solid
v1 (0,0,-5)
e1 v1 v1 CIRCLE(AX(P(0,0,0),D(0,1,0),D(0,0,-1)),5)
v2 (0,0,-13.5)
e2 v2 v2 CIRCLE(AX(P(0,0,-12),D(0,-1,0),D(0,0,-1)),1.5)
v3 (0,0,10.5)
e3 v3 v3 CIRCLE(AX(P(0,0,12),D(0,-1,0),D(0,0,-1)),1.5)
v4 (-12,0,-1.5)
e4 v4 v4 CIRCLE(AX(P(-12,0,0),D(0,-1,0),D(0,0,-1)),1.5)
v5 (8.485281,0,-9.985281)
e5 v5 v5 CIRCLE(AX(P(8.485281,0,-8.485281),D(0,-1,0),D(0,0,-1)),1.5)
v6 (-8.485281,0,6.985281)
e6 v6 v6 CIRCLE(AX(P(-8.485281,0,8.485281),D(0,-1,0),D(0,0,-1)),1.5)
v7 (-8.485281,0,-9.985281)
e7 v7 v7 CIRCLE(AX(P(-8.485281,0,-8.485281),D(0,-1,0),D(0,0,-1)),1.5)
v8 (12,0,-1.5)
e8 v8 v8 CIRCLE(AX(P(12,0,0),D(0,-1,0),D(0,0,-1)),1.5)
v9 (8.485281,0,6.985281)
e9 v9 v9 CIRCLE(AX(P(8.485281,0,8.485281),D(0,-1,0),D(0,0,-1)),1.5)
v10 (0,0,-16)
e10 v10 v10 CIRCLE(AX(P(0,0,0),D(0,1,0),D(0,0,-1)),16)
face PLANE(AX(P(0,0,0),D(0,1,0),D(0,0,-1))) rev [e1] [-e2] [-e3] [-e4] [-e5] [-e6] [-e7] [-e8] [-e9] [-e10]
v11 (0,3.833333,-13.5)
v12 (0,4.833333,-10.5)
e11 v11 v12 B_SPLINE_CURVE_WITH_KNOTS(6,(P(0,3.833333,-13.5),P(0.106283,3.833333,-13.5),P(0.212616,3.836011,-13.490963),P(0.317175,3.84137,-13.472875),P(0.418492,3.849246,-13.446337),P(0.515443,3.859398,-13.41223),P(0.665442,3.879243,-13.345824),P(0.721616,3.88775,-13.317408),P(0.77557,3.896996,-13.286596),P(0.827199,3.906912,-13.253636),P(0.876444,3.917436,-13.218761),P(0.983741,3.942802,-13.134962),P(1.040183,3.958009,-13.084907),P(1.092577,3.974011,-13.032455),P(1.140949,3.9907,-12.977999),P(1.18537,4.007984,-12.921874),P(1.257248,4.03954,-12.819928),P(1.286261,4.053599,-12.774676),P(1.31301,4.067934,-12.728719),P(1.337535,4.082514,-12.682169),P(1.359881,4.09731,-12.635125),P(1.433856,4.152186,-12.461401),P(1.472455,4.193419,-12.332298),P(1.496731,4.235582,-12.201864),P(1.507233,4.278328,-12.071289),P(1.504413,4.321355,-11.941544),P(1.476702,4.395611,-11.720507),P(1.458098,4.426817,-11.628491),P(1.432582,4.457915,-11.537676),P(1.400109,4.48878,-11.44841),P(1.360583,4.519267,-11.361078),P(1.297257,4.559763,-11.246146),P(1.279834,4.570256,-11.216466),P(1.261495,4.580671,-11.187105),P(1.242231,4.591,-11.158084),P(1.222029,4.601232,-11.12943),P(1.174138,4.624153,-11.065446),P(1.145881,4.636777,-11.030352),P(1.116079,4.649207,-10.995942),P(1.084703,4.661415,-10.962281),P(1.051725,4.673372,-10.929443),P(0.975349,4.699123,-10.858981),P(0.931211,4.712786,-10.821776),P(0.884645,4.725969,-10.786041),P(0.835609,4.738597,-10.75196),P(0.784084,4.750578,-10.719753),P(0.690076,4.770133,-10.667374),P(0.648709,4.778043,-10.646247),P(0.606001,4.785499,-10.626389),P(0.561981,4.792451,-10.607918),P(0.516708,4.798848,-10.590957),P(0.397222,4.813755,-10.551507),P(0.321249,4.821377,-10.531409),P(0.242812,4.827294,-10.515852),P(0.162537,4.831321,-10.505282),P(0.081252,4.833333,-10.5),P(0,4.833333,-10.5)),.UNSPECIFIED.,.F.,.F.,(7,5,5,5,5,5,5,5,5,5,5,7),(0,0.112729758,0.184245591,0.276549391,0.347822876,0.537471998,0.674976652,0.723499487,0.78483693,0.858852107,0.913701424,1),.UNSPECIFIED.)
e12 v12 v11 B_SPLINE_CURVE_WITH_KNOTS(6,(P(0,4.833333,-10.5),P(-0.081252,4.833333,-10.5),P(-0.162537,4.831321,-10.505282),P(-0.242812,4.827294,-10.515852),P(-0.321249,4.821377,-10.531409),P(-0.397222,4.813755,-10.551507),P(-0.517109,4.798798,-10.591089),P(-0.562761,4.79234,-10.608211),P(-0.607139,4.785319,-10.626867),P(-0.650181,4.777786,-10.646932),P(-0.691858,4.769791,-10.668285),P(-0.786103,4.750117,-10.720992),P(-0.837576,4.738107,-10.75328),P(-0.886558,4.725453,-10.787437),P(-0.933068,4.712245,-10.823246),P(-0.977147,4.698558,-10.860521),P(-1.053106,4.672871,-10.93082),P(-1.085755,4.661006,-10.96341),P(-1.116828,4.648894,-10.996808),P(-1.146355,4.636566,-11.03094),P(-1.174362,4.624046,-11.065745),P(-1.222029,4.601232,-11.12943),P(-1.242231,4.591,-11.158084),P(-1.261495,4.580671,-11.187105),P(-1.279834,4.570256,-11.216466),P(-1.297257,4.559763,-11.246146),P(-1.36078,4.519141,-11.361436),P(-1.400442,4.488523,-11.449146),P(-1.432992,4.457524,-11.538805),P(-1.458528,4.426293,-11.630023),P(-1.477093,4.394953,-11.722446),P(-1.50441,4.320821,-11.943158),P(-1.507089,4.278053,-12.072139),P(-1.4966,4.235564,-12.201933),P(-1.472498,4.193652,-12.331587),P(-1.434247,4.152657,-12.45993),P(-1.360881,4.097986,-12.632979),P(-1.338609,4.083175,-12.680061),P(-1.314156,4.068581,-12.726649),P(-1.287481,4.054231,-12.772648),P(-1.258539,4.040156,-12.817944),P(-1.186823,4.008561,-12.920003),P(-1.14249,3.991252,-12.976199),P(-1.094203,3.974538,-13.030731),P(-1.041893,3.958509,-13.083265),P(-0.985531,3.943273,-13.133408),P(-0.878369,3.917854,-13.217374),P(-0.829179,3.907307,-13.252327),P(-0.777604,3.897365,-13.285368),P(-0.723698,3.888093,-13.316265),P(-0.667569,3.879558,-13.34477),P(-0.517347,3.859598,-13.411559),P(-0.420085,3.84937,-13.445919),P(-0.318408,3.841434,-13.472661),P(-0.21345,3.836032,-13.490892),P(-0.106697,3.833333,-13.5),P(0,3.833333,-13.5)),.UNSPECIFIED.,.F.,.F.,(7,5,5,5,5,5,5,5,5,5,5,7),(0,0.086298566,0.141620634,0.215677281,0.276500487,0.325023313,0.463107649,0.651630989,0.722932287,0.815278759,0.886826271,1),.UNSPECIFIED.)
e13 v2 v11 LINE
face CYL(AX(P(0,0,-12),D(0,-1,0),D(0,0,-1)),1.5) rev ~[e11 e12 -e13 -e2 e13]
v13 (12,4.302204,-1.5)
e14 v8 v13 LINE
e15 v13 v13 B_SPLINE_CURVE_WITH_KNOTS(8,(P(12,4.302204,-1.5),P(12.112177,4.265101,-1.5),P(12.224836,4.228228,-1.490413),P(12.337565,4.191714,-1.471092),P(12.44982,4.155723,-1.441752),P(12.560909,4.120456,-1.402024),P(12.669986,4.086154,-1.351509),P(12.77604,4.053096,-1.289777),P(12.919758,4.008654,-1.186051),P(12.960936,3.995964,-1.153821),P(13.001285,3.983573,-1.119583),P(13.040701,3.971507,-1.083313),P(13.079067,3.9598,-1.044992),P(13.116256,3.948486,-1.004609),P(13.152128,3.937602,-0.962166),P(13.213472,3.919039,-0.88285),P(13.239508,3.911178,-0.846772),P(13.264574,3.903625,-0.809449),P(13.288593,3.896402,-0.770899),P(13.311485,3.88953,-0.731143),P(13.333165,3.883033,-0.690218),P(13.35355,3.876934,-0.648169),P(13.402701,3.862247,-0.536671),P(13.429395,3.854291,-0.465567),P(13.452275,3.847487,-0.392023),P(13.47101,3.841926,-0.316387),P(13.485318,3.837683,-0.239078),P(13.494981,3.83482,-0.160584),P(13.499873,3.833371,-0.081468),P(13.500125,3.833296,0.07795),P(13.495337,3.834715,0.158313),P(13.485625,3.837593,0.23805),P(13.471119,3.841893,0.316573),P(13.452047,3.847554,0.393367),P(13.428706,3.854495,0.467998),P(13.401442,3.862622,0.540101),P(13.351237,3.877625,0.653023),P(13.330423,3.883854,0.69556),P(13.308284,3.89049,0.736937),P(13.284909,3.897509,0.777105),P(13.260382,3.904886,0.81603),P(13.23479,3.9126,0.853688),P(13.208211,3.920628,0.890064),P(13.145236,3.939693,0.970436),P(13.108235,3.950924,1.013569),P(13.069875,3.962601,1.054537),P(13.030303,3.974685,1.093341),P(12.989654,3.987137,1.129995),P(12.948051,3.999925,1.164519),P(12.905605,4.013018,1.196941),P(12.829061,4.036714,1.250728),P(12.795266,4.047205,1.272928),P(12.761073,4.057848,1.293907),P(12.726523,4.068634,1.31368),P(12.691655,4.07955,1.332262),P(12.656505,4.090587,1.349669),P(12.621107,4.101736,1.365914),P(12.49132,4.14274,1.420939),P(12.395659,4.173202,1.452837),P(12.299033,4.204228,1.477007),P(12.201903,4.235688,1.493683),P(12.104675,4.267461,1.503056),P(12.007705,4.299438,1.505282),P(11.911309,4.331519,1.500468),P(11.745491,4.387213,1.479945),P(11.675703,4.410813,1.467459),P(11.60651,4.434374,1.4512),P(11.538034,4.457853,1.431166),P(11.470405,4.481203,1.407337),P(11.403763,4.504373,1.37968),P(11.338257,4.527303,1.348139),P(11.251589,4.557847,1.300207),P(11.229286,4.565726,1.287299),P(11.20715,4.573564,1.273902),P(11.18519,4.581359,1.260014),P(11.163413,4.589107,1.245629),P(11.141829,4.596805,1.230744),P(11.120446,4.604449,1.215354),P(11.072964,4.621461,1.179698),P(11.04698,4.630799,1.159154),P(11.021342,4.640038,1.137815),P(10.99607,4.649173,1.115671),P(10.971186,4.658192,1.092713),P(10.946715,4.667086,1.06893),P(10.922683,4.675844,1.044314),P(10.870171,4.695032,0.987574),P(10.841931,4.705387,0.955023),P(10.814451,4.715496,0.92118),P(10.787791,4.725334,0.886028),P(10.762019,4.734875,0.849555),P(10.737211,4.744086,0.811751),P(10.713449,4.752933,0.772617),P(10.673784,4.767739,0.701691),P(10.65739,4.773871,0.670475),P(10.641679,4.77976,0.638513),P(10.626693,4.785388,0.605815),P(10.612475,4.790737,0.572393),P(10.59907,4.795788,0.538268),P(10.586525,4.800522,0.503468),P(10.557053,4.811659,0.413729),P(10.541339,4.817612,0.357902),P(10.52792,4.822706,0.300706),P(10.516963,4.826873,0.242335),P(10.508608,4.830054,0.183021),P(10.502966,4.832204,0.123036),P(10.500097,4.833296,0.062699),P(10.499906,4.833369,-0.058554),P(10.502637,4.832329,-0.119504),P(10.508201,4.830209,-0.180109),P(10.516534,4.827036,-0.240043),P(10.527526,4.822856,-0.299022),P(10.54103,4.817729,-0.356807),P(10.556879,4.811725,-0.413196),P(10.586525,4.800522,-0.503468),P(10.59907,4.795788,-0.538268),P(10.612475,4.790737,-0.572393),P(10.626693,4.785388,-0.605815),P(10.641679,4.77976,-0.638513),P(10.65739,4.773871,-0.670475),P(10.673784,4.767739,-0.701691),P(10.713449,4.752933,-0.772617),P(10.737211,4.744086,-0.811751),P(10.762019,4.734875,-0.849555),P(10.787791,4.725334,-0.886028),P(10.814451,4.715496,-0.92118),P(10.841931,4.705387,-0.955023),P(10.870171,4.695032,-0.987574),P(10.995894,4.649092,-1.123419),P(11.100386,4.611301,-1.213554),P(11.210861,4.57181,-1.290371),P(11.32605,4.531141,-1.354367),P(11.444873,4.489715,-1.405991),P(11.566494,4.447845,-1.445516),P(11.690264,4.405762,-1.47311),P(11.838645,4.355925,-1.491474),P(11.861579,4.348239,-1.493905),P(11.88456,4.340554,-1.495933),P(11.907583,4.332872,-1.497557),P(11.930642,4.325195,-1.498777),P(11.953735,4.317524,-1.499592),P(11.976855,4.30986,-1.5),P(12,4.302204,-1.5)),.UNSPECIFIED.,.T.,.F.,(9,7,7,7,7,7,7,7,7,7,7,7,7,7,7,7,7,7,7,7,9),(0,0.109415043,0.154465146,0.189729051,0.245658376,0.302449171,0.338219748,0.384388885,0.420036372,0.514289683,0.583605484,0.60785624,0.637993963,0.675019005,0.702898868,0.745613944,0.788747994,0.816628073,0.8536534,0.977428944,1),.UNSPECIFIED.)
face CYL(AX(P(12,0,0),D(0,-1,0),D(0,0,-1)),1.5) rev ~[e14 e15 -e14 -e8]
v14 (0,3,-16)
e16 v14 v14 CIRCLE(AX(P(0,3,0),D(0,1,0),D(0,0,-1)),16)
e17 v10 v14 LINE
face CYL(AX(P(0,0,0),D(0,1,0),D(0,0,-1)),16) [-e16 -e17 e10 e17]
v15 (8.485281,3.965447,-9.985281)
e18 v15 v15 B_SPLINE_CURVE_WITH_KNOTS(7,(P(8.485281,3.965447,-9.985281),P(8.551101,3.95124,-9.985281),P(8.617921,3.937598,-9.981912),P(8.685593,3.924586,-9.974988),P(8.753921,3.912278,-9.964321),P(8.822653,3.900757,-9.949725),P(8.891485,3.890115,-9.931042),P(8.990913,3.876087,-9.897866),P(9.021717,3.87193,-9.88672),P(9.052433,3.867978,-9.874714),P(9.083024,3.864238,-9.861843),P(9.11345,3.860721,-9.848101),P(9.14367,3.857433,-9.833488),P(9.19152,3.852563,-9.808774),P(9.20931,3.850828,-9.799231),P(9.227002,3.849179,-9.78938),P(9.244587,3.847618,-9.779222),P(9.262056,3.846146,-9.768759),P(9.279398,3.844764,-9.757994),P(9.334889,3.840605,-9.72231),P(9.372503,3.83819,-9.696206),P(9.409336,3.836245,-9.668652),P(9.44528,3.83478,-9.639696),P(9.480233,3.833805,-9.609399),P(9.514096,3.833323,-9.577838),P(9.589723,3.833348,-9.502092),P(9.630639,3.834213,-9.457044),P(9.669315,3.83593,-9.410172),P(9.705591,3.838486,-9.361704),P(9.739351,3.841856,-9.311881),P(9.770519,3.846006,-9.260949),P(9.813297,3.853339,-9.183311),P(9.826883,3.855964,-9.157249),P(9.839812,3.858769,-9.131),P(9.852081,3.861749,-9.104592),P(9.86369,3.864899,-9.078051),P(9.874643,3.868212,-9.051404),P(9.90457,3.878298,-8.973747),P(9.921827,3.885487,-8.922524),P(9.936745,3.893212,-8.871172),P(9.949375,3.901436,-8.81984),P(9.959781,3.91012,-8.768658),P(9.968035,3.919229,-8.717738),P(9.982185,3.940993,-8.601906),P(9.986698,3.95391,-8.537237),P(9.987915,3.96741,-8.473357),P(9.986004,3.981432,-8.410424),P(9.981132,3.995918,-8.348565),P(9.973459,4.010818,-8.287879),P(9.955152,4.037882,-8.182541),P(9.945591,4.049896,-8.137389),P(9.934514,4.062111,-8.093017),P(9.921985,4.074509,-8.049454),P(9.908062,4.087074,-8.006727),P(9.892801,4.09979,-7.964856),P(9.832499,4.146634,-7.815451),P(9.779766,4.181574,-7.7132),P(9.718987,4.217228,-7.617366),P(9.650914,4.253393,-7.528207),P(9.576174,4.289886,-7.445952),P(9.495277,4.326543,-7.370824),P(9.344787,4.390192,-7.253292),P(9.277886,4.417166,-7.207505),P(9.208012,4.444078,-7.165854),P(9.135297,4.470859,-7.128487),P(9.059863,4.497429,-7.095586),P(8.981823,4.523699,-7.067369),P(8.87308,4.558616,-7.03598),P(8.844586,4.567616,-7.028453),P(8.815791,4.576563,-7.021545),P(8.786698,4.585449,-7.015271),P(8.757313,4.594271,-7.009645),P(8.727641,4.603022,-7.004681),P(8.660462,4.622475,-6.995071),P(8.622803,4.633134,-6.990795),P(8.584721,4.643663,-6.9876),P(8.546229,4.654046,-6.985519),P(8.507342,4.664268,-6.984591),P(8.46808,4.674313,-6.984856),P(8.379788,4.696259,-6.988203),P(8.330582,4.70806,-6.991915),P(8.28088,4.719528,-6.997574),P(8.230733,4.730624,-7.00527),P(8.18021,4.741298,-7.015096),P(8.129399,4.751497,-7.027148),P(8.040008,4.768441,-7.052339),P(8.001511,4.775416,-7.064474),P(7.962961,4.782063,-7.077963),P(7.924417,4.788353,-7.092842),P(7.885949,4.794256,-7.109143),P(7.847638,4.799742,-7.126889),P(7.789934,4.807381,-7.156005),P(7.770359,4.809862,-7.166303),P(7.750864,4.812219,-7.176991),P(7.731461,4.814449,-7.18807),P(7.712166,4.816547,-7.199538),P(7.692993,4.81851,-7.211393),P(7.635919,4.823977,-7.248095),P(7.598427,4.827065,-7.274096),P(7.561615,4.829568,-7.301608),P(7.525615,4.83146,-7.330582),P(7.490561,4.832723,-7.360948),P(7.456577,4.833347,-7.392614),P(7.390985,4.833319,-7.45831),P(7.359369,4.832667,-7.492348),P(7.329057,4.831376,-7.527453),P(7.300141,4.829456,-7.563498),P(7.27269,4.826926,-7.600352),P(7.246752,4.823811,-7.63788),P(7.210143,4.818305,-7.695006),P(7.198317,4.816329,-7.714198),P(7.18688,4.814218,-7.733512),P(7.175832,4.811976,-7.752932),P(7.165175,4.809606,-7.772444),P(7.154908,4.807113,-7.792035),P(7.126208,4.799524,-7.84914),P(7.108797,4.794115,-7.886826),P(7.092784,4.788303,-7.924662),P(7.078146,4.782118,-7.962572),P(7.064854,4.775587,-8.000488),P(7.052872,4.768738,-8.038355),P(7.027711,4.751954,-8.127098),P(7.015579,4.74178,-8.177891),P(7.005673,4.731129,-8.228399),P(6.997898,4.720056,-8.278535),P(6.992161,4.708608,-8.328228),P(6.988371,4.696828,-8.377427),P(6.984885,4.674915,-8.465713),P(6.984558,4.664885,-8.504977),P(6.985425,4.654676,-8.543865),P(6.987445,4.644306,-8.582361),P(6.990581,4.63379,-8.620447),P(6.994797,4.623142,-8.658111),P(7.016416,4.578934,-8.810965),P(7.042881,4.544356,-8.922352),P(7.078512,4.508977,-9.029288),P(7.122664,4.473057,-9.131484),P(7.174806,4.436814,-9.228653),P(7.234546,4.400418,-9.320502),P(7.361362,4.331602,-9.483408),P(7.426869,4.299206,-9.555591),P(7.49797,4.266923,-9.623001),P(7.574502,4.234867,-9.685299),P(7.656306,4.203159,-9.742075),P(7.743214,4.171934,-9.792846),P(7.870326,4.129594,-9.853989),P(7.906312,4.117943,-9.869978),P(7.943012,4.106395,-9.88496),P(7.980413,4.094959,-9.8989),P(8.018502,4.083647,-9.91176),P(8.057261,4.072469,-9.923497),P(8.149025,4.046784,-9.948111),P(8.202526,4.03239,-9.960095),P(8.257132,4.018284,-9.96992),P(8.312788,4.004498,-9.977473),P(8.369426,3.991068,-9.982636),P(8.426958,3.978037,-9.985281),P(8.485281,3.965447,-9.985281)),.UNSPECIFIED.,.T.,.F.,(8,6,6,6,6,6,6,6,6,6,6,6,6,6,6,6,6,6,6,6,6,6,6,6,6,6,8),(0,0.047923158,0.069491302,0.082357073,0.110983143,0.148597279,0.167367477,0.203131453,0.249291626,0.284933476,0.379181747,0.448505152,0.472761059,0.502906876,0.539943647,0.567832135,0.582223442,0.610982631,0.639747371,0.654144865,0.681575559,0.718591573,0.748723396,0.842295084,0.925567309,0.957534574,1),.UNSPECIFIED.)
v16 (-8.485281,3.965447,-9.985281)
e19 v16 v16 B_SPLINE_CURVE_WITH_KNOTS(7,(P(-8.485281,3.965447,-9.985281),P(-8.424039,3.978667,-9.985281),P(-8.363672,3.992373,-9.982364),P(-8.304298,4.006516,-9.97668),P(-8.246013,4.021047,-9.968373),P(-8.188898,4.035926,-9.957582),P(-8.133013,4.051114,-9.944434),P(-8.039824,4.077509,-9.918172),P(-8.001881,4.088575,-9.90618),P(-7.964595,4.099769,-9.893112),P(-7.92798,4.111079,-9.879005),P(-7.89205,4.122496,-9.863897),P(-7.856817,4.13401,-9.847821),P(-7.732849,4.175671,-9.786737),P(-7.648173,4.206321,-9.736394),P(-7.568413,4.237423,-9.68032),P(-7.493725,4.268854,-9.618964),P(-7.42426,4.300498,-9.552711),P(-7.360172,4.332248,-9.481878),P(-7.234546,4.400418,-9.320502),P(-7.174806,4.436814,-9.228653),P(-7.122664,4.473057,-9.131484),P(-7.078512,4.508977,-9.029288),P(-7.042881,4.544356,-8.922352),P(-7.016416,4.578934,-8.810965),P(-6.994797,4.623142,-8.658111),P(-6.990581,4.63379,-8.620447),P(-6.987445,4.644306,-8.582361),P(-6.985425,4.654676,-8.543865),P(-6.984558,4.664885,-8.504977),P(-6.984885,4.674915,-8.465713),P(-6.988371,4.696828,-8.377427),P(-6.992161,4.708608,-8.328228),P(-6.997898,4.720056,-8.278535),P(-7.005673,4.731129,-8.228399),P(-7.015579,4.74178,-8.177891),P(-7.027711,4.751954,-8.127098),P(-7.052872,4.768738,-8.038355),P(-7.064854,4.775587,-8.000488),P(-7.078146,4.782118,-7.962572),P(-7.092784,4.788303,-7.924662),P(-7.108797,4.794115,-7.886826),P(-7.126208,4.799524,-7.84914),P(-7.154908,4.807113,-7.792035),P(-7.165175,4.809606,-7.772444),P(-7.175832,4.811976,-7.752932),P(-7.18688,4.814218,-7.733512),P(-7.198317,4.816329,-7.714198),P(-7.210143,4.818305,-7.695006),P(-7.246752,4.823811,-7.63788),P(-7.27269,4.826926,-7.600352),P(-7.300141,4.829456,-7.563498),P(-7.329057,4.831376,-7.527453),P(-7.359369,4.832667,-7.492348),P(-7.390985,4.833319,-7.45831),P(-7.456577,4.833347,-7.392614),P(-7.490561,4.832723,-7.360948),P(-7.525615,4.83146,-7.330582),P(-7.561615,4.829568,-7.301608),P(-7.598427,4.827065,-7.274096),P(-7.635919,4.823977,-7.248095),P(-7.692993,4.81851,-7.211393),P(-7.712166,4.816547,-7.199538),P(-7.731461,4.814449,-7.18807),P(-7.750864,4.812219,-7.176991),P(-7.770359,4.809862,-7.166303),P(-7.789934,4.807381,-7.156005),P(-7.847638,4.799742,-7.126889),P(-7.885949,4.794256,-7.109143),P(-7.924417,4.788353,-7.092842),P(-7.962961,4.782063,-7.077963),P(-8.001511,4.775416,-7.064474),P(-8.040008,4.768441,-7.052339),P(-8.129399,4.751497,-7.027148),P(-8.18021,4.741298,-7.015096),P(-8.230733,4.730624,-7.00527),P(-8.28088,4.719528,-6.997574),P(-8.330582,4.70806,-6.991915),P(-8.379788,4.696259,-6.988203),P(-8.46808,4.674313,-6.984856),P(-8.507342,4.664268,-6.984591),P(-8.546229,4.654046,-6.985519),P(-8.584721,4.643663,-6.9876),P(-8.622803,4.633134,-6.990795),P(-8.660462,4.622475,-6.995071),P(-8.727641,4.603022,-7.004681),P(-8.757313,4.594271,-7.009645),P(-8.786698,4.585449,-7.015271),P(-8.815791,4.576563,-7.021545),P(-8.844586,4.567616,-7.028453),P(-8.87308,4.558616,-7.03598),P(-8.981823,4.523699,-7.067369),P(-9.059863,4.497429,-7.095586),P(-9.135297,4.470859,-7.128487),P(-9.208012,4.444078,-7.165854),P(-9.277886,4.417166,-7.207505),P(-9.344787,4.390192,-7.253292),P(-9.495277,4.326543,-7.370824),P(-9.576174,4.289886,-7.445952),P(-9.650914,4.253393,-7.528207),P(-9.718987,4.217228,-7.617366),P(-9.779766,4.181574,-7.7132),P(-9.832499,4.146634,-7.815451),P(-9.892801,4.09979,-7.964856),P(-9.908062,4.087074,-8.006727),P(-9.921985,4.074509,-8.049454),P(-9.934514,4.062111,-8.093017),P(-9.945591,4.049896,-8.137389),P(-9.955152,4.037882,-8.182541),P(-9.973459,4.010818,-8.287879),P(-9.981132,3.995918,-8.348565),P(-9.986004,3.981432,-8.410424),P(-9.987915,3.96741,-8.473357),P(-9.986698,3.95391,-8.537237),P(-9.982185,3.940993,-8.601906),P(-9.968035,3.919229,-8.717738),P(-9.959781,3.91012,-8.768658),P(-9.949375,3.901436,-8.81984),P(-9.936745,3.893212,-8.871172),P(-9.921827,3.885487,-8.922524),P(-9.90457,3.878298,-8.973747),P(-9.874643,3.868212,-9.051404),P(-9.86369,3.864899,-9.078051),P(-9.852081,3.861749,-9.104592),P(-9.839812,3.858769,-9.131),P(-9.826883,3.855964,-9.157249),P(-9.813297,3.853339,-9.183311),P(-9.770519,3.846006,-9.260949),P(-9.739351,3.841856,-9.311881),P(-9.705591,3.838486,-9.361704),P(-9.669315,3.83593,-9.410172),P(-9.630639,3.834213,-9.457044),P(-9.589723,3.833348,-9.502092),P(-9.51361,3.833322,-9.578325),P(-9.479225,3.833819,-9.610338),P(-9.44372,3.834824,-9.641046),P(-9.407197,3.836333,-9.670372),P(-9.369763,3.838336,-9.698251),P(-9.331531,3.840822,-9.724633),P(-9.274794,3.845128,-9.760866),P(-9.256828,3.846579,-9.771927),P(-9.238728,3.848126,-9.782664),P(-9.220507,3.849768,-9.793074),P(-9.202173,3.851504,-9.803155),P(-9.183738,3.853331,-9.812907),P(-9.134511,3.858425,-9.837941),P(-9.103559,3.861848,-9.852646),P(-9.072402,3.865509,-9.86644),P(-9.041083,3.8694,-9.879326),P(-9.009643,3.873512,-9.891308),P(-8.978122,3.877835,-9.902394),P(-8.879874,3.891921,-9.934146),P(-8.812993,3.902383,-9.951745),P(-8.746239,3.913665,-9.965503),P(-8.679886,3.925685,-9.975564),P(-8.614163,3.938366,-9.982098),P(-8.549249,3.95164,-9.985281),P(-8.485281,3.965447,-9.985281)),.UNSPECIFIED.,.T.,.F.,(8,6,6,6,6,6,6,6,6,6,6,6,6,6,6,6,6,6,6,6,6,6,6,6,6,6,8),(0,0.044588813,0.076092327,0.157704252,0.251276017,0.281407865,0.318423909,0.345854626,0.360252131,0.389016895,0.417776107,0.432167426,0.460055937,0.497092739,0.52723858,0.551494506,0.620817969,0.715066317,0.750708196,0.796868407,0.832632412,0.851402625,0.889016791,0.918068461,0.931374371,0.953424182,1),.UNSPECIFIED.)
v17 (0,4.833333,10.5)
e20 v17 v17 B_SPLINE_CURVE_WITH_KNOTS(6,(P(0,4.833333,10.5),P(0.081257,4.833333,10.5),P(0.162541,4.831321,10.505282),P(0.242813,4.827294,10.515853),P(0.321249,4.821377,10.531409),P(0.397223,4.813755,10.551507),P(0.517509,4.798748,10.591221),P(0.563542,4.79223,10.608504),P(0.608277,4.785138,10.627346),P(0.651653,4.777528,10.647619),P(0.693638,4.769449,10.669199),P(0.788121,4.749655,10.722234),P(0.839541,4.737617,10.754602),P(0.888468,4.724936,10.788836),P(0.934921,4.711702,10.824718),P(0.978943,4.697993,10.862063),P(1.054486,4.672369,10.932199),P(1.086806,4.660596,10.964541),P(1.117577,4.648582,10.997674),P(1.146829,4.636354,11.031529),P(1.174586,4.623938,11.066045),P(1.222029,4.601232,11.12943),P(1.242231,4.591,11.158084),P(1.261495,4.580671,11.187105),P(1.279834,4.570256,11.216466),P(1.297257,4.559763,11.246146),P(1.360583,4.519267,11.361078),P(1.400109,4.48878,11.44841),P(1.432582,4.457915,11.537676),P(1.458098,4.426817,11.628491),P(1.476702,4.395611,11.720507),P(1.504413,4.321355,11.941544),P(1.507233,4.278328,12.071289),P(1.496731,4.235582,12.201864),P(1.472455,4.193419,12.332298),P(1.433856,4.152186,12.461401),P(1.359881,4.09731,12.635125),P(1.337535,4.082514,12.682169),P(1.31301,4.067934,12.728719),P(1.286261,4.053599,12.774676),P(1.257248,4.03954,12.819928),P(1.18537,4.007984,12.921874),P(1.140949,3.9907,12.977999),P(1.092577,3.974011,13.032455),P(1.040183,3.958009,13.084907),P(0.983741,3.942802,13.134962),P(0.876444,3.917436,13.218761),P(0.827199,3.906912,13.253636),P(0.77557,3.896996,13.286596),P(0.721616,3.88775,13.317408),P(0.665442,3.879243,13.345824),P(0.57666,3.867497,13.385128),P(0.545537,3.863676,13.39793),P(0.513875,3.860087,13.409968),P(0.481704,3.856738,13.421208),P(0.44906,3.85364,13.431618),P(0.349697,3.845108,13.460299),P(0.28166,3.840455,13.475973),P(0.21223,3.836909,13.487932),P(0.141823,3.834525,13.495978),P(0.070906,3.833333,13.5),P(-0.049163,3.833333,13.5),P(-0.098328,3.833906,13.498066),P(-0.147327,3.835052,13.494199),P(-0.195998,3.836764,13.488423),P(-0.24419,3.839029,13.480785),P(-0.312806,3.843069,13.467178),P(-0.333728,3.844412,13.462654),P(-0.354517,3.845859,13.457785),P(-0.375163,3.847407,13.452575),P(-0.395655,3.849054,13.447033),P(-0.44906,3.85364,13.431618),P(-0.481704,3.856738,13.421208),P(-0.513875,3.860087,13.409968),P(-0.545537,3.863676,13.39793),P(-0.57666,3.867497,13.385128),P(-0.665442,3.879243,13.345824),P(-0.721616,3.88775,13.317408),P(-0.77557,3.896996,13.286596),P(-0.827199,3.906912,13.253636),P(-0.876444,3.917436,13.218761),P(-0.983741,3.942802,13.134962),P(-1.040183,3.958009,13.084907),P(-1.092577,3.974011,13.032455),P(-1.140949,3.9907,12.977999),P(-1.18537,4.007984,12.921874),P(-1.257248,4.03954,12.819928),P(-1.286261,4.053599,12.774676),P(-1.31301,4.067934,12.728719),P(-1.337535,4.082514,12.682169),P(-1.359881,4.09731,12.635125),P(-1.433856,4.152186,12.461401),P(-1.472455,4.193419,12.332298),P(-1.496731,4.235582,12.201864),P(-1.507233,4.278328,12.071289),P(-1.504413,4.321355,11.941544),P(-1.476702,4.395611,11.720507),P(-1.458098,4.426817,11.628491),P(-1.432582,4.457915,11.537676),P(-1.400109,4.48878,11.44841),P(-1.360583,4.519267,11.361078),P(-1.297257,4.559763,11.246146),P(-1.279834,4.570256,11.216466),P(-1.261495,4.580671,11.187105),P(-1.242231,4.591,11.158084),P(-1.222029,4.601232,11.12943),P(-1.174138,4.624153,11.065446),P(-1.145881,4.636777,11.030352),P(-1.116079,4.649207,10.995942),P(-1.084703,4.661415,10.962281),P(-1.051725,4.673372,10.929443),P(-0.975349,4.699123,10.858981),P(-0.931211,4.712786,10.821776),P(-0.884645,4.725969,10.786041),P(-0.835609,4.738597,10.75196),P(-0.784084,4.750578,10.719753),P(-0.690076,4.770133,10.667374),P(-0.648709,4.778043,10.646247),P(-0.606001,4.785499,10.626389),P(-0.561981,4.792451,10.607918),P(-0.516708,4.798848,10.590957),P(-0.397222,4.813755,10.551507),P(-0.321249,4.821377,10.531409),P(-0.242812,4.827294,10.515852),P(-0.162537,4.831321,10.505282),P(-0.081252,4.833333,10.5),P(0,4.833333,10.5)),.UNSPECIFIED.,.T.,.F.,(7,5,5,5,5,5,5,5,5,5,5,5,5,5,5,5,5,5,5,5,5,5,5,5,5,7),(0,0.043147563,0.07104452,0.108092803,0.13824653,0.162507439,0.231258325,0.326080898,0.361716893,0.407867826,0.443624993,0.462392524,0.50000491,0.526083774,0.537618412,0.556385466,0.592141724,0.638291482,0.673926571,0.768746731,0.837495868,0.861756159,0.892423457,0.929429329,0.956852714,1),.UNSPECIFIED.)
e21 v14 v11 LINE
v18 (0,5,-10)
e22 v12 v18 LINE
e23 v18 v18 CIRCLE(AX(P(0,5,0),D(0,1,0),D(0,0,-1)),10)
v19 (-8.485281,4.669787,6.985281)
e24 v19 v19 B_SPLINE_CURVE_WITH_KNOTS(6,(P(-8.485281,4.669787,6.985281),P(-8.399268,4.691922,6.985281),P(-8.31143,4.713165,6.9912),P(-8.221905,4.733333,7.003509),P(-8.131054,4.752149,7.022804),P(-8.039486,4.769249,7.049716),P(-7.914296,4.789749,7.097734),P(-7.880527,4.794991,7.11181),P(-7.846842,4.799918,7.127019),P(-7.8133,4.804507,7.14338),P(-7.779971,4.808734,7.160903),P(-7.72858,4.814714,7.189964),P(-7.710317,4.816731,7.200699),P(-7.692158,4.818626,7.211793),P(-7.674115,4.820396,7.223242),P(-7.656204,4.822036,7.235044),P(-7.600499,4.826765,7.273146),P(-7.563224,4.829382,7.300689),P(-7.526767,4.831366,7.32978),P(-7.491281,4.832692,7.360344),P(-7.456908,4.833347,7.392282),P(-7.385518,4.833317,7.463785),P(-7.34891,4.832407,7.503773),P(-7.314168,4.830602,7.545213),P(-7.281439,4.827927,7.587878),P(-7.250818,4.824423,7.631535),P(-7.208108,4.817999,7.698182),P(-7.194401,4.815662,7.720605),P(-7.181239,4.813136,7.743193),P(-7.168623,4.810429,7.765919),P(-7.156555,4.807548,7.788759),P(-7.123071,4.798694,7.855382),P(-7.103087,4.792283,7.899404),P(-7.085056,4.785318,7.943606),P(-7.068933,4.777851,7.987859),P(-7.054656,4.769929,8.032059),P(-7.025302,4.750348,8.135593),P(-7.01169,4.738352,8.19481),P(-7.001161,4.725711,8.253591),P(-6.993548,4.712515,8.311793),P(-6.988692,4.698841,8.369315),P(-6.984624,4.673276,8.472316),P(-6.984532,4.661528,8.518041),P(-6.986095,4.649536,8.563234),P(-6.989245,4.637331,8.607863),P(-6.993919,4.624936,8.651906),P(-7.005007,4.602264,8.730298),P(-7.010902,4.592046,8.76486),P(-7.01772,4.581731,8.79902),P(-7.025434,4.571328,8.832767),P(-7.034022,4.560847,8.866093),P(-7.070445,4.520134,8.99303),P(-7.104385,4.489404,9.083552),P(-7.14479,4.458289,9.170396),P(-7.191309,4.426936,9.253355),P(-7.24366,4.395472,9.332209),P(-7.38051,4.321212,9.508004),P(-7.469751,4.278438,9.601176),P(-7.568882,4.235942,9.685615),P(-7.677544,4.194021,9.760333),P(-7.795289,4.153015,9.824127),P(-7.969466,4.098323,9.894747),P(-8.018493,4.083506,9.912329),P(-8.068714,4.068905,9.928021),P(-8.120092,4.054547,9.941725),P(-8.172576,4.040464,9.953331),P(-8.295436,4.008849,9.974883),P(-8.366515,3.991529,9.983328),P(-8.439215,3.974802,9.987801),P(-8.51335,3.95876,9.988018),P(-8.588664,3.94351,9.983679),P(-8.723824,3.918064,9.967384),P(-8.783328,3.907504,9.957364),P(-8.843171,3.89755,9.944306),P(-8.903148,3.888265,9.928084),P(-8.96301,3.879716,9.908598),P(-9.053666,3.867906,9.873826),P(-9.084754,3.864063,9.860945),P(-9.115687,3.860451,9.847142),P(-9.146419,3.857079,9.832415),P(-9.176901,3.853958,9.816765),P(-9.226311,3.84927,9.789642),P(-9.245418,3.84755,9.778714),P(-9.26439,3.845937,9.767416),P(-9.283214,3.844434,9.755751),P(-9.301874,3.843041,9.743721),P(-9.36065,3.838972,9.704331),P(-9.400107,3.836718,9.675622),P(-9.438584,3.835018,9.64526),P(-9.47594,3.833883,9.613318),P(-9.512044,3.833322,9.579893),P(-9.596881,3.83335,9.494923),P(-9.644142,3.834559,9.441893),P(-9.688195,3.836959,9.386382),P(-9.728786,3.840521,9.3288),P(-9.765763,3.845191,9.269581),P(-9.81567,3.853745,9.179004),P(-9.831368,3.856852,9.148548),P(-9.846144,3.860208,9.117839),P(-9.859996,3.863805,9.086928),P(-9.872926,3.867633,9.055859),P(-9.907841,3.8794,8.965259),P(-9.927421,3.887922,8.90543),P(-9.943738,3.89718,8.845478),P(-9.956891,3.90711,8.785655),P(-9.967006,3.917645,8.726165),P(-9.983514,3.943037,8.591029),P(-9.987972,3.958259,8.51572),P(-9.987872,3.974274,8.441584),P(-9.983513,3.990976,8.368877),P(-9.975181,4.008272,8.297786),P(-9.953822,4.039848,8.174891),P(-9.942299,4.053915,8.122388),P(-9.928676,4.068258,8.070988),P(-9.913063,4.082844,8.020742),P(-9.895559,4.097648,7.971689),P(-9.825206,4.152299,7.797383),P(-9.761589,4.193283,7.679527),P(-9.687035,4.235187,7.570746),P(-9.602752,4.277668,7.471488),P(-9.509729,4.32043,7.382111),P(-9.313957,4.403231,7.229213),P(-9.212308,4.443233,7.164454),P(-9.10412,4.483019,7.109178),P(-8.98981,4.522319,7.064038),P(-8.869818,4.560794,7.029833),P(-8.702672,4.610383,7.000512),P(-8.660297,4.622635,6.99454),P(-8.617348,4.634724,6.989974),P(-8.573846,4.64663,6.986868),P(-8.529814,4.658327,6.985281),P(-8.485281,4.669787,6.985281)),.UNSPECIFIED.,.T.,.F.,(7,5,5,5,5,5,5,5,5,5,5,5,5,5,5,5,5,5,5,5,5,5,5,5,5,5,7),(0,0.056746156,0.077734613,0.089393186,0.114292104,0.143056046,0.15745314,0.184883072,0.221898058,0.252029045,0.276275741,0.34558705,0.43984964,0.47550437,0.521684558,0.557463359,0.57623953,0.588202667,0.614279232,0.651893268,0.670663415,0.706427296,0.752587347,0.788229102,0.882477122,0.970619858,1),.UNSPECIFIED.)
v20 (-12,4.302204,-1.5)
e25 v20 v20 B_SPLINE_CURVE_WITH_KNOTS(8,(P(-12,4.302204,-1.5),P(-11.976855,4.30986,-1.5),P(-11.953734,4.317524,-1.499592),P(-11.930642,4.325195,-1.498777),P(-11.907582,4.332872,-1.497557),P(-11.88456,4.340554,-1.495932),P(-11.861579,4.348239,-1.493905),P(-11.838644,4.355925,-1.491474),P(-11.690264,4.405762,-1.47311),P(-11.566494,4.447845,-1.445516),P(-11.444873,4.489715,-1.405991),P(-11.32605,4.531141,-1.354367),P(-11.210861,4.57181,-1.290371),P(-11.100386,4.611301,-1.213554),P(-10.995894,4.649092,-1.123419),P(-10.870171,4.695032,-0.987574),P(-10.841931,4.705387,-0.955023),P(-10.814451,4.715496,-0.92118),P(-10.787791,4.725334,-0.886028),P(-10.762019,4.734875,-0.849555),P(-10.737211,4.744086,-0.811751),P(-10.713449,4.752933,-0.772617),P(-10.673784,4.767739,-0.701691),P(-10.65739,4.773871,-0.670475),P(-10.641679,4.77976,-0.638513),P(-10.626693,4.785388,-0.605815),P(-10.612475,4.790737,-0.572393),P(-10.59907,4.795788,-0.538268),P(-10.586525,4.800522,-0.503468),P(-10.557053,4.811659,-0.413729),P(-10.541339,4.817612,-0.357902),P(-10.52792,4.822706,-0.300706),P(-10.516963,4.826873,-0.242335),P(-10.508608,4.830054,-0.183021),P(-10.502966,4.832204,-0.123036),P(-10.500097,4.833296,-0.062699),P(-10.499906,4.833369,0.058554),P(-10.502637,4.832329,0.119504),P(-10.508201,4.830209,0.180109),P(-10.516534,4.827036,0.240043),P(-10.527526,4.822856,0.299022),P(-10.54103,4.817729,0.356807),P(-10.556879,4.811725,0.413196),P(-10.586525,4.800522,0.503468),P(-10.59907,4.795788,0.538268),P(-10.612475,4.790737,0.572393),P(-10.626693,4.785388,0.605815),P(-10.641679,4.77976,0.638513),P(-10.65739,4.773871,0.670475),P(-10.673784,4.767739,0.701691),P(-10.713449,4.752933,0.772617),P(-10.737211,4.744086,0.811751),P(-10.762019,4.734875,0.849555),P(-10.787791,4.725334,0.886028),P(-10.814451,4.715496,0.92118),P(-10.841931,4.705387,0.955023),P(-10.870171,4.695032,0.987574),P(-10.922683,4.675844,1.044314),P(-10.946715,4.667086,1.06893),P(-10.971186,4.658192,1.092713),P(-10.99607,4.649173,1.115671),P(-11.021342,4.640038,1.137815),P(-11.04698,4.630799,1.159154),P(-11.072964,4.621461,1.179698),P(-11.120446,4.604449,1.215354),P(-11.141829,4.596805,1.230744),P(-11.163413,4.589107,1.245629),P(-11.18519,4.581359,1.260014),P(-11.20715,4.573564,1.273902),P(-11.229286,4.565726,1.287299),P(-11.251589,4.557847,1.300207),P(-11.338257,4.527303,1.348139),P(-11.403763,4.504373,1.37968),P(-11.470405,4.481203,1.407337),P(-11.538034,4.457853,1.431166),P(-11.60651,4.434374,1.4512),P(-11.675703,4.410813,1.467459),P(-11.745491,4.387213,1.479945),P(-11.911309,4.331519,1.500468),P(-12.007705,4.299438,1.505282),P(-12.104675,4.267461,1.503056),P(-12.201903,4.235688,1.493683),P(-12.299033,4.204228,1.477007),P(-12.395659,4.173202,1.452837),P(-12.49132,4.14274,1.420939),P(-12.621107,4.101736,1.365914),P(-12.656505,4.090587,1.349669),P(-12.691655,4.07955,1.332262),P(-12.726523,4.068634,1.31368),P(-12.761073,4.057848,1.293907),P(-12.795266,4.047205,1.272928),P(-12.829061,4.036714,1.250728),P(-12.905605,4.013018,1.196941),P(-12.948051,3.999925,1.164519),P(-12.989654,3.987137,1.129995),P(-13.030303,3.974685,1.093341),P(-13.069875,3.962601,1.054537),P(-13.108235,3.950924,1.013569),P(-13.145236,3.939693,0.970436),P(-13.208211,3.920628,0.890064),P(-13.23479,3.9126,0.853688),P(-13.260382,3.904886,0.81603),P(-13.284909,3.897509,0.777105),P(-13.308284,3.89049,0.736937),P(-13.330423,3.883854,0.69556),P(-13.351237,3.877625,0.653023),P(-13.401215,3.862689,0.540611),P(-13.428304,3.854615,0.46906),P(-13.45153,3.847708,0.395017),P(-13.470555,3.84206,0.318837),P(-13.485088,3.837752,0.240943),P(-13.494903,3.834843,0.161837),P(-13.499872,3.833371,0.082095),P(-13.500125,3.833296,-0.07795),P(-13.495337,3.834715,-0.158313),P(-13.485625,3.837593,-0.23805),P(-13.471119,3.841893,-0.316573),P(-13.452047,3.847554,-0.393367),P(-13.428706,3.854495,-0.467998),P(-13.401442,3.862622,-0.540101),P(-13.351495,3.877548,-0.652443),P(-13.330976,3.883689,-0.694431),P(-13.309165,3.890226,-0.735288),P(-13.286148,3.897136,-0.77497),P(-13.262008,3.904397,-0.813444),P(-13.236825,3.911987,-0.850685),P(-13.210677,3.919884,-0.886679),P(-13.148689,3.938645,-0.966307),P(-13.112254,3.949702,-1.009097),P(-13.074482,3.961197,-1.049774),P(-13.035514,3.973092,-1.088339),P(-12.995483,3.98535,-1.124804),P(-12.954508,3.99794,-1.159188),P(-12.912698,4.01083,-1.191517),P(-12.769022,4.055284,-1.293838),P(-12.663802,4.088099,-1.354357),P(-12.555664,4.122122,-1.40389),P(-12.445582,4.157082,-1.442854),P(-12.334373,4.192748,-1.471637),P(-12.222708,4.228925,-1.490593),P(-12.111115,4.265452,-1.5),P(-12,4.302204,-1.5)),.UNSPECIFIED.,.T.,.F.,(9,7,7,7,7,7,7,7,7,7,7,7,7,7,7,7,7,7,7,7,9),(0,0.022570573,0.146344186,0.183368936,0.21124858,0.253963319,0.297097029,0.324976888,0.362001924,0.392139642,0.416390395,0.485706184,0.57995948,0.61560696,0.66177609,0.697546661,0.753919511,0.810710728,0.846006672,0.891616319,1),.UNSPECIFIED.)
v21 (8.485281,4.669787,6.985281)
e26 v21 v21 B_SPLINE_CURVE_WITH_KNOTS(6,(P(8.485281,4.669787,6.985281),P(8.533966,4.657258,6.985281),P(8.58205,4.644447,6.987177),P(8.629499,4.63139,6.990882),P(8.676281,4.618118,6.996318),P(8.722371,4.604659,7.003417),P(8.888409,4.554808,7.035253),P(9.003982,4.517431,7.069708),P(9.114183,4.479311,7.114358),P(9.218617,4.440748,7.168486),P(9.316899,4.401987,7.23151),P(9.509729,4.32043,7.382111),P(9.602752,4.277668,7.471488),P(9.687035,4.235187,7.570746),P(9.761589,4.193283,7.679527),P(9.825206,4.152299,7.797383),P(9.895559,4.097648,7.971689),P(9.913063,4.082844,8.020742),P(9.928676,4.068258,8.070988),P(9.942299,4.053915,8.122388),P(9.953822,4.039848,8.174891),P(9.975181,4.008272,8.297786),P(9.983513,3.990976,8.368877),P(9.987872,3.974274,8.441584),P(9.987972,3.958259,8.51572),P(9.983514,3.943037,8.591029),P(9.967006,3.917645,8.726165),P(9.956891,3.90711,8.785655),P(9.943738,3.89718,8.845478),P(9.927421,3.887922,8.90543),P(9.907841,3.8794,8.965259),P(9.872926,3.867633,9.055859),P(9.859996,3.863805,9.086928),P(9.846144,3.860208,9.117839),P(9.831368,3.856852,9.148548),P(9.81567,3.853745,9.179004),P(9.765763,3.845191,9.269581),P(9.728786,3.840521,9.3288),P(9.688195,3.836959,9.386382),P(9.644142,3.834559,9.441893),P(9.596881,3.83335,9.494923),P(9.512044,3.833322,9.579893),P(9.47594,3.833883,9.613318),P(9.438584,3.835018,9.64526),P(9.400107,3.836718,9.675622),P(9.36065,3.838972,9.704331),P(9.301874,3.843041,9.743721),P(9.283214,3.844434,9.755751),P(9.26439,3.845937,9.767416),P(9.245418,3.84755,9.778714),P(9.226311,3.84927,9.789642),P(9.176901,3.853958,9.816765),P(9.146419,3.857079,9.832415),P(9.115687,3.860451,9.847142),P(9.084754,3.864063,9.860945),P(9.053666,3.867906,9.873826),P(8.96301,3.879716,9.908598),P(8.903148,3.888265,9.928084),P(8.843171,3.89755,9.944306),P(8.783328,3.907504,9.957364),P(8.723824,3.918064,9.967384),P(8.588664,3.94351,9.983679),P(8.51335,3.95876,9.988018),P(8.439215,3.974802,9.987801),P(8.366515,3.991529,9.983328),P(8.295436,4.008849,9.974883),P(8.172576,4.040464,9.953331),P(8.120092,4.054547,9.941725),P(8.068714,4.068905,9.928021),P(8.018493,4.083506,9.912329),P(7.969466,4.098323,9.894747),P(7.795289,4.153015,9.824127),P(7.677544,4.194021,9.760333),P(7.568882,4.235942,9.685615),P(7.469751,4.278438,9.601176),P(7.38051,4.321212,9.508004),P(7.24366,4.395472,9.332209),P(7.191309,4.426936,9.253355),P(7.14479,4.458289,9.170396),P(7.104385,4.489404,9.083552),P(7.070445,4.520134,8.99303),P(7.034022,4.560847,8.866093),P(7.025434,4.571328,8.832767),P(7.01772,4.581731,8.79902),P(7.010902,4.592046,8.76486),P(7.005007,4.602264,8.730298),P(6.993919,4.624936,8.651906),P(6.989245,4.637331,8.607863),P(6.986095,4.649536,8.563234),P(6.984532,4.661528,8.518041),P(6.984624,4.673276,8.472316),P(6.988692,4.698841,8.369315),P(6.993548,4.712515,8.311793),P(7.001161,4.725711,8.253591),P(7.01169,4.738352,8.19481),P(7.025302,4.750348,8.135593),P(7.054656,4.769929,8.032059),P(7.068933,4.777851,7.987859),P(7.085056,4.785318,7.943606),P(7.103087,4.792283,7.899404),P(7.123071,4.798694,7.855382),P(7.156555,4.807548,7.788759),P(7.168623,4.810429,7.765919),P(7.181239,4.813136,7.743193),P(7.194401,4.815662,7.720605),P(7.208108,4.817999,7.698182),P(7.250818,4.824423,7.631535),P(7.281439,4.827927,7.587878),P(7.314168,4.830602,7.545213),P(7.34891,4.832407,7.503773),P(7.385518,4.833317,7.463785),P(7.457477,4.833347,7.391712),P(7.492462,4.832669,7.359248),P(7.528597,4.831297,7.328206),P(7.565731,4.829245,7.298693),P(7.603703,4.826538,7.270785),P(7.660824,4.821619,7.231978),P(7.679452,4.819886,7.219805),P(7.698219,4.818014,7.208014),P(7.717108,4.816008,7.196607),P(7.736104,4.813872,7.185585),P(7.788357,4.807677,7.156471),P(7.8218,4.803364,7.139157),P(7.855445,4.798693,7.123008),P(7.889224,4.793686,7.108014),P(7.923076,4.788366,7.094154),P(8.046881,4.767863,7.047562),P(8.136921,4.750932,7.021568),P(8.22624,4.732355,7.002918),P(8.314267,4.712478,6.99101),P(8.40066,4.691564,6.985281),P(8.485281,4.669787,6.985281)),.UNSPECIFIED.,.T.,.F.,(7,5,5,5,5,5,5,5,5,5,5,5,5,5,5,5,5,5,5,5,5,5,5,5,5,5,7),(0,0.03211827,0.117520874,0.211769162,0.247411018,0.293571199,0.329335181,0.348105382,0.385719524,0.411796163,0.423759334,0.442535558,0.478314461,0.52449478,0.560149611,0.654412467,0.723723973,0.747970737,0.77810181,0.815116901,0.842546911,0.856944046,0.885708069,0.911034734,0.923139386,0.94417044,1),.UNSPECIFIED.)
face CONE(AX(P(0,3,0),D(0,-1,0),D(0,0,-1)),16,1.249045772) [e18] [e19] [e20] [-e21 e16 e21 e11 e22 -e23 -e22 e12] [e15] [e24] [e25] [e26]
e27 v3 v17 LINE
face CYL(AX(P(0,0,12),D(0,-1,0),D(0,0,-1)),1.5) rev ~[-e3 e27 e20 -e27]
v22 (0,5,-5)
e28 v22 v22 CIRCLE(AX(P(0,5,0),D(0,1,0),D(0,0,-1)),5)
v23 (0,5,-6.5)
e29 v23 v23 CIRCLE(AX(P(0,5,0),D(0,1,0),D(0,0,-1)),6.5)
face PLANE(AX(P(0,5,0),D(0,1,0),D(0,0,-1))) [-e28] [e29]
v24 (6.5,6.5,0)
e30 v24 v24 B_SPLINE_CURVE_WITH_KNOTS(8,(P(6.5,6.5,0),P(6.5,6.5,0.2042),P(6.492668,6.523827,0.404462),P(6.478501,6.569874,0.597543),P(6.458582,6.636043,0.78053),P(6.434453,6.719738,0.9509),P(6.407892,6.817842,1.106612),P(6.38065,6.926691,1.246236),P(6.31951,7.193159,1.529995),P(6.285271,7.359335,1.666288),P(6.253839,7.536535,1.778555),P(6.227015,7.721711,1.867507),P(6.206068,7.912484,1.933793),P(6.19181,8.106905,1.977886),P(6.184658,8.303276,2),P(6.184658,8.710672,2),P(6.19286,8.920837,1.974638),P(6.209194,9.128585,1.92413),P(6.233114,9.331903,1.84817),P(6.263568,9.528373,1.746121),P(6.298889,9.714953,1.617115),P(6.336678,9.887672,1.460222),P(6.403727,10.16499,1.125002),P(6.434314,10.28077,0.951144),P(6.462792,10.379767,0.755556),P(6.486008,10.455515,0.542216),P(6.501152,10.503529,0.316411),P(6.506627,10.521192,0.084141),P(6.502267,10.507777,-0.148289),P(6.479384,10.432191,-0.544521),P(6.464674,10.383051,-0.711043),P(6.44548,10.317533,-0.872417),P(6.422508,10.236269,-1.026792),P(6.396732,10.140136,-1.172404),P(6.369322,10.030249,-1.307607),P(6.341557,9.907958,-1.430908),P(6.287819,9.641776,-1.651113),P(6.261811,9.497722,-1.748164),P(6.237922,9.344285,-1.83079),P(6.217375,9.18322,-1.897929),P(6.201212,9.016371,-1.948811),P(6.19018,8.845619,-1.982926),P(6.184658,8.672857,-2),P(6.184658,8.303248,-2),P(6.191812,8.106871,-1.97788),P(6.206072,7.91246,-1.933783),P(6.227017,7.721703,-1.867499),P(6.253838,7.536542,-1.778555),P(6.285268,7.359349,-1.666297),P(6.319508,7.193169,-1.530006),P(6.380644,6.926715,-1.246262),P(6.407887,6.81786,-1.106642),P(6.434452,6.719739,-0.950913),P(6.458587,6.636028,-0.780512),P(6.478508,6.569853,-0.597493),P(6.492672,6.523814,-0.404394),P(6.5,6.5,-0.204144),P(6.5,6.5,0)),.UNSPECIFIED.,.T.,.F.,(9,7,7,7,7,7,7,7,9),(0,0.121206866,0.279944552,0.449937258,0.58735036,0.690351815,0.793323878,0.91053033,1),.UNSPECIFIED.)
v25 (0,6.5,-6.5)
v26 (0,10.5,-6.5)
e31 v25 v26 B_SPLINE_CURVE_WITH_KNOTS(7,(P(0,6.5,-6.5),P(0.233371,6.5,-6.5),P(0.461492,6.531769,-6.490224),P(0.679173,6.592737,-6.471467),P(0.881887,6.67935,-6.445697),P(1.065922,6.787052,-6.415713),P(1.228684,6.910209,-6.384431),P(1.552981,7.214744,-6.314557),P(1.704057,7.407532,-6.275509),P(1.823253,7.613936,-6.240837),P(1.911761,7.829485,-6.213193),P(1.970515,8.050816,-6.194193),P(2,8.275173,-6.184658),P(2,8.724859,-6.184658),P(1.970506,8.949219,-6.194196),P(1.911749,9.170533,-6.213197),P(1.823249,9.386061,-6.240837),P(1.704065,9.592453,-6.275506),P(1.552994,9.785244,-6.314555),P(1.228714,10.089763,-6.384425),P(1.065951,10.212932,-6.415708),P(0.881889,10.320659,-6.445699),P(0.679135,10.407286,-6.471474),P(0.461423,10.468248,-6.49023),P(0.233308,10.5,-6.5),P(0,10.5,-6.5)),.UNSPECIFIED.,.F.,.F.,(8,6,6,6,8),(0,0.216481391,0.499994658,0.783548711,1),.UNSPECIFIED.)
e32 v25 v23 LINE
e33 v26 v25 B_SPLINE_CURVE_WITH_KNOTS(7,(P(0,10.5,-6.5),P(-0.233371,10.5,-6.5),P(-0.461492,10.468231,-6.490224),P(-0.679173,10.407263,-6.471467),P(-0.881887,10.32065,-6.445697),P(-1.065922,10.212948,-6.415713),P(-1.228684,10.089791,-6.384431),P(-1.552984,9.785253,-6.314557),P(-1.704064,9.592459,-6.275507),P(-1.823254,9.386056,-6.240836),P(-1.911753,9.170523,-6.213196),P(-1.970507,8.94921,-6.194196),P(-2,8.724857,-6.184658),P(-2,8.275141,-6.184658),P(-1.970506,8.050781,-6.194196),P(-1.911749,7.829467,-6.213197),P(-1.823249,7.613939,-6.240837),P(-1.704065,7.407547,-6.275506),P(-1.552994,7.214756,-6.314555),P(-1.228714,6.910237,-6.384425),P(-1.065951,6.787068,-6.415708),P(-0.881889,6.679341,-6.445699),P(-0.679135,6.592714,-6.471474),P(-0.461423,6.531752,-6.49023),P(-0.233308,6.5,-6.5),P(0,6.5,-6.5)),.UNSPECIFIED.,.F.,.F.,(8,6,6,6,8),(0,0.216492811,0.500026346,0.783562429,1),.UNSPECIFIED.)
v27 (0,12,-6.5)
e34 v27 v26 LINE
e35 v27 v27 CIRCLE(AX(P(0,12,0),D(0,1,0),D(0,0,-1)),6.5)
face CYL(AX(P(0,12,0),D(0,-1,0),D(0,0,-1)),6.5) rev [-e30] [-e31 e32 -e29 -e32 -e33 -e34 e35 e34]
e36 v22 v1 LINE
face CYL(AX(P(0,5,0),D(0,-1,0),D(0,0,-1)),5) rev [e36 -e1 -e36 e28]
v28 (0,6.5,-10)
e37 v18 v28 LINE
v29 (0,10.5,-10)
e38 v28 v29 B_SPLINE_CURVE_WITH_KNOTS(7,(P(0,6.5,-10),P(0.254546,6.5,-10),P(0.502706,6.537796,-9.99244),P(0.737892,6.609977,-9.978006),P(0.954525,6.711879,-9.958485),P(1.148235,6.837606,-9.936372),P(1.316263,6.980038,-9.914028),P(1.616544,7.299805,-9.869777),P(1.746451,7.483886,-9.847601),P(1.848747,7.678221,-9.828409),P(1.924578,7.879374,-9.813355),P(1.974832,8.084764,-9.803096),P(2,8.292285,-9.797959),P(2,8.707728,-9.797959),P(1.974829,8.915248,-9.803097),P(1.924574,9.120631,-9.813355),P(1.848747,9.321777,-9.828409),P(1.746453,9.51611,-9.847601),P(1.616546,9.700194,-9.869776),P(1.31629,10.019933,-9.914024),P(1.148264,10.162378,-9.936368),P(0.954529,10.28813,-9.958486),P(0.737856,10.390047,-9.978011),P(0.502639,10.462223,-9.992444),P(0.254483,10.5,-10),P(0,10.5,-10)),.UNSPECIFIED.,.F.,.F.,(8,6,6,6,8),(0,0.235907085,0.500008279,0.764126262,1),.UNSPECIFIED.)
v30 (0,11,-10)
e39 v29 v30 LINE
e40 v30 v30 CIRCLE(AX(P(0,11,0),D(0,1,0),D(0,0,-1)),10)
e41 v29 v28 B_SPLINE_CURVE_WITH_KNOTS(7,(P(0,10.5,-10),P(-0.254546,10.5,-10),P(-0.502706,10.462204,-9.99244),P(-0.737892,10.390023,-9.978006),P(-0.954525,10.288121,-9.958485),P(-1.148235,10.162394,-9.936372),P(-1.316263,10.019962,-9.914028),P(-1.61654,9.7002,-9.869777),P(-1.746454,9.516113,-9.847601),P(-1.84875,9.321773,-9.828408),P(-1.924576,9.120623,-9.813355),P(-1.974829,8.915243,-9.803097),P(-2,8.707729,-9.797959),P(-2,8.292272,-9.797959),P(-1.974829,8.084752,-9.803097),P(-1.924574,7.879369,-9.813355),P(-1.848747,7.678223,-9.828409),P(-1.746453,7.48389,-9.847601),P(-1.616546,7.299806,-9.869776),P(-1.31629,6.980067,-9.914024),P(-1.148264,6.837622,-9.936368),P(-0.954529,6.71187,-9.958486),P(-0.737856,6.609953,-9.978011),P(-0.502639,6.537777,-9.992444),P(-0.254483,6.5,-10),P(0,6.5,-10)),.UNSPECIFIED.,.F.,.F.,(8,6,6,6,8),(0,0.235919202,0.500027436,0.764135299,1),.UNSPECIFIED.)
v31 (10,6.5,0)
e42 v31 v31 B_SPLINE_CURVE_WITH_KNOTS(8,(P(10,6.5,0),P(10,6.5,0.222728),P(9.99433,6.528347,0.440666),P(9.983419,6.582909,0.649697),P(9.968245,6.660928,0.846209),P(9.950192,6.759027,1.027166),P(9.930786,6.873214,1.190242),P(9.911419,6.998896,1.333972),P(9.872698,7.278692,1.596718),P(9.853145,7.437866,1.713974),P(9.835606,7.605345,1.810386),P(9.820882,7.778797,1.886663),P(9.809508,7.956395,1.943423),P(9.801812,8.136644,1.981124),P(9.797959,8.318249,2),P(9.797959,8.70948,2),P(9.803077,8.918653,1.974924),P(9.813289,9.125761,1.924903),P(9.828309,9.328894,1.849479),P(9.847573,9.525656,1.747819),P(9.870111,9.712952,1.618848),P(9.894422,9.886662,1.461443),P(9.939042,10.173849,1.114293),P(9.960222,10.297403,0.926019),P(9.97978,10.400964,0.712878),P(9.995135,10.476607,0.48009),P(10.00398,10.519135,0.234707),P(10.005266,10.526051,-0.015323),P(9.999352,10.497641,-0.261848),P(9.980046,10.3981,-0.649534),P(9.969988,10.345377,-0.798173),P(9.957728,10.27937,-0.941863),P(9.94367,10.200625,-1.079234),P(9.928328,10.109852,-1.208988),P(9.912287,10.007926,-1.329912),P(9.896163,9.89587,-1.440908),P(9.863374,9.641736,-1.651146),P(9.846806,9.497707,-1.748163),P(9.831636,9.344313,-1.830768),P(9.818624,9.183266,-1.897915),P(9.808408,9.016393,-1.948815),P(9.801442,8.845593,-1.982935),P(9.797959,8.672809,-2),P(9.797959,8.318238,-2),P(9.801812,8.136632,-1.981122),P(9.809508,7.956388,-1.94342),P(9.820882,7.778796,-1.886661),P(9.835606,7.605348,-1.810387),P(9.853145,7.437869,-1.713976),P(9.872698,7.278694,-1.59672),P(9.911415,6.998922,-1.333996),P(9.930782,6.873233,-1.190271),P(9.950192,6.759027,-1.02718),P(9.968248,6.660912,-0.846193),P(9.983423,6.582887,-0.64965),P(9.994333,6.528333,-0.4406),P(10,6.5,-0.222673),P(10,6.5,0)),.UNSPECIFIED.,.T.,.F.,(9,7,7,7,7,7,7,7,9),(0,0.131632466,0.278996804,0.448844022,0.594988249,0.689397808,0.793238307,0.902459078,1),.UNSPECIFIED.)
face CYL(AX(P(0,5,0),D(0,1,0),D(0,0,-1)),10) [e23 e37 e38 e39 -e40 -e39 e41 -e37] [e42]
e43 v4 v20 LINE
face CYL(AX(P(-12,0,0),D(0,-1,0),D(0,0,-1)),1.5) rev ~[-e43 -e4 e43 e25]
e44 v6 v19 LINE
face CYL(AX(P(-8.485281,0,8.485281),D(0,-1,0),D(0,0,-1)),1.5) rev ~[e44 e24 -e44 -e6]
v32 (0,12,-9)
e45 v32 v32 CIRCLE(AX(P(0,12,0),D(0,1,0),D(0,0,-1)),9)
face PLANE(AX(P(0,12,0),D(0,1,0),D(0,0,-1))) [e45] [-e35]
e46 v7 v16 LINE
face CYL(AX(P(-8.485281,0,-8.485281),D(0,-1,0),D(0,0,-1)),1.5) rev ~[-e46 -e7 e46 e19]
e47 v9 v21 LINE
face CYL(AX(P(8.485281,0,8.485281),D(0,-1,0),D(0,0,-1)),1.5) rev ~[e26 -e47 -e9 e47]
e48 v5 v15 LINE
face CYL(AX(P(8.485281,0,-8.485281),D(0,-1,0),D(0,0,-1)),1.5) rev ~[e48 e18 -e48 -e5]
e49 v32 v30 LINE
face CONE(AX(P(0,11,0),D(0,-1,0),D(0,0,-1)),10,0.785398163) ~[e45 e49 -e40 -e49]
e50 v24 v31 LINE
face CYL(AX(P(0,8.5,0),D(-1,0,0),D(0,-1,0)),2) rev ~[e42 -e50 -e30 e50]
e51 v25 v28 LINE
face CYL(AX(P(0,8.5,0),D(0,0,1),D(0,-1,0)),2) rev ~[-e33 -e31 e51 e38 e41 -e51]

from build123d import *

# Parameters (mm, degrees)
SKETCH2_R          = 1.5
CUT_EXTRUDE1_DEPTH = 10
SKETCH3_R          = 2
CUT_EXTRUDE2_DEPTH = 26.612497075
CIRPATTERN1_COUNT  = 2
CIRPATTERN1_ANGLE  = 90
CHAMFER1_SIZE      = 1


with BuildPart() as part:
    # Sketch1 → Revolve1 (revolve)
    with BuildSketch(Plane.XY, mode=Mode.PRIVATE) as revolve1_sk:
        Polygon((10, 12), (6.5, 12), (6.5, 5), (5, 5), (5, 0), (16, 0), (16, 3), (10, 5), align=None)
    revolve(revolve1_sk.sketch.rotate(Axis((0, 0, 0), (0, 1, 0)), 90), axis=Axis((0, 0, 0), (0, 1, 0)))

    # Sketch2 → Cut-Extrude1 (cut)
    with BuildSketch(Plane.XZ):
        with Locations(Location((0, 12, 0), (0, 0, 270))):
            Circle(SKETCH2_R)
        with Locations(Location((8.485281374, 8.485281374, 0), (0, 0, 270))):
            Circle(SKETCH2_R)
        with Locations(Location((12, 0, 0), (0, 0, 270))):
            Circle(SKETCH2_R)
        with Locations(Location((8.485281374, -8.485281374, 0), (0, 0, 270))):
            Circle(SKETCH2_R)
        with Locations(Location((0, -12, 0), (0, 0, 270))):
            Circle(SKETCH2_R)
        with Locations(Location((-8.485281374, -8.485281374, 0), (0, 0, 270))):
            Circle(SKETCH2_R)
        with Locations(Location((-12, 0, 0), (0, 0, 270))):
            Circle(SKETCH2_R)
        with Locations(Location((-8.485281374, 8.485281374, 0), (0, 0, 270))):
            Circle(SKETCH2_R)
    extrude(amount=-CUT_EXTRUDE1_DEPTH, mode=Mode.SUBTRACT)

    # Sketch3 → Cut-Extrude2 (cut, through all)
    with BuildSketch(Plane.XY):
        with Locations(Location((0, 8.5, 0), (0, 0, 270.000000001))):
            Circle(SKETCH3_R)
    cut_extrude2 = extrude(amount=-CUT_EXTRUDE2_DEPTH, mode=Mode.SUBTRACT)

    # CirPattern1: Cut-Extrude2 ×2 about axis
    cirpattern1_axis = Axis((0, 12, 0), (0, -1, 0))
    for i in range(1, CIRPATTERN1_COUNT):
        add(cut_extrude2.rotate(cirpattern1_axis, i * CIRPATTERN1_ANGLE / (CIRPATTERN1_COUNT - 1)), mode=Mode.SUBTRACT)

    # Chamfer1
    chamfer1_edges = [part.edges().sort_by_distance(p)[0] for p in [
        (0, 12, 10),
    ]]
    chamfer(chamfer1_edges, length=CHAMFER1_SIZE)


solid = part.part
